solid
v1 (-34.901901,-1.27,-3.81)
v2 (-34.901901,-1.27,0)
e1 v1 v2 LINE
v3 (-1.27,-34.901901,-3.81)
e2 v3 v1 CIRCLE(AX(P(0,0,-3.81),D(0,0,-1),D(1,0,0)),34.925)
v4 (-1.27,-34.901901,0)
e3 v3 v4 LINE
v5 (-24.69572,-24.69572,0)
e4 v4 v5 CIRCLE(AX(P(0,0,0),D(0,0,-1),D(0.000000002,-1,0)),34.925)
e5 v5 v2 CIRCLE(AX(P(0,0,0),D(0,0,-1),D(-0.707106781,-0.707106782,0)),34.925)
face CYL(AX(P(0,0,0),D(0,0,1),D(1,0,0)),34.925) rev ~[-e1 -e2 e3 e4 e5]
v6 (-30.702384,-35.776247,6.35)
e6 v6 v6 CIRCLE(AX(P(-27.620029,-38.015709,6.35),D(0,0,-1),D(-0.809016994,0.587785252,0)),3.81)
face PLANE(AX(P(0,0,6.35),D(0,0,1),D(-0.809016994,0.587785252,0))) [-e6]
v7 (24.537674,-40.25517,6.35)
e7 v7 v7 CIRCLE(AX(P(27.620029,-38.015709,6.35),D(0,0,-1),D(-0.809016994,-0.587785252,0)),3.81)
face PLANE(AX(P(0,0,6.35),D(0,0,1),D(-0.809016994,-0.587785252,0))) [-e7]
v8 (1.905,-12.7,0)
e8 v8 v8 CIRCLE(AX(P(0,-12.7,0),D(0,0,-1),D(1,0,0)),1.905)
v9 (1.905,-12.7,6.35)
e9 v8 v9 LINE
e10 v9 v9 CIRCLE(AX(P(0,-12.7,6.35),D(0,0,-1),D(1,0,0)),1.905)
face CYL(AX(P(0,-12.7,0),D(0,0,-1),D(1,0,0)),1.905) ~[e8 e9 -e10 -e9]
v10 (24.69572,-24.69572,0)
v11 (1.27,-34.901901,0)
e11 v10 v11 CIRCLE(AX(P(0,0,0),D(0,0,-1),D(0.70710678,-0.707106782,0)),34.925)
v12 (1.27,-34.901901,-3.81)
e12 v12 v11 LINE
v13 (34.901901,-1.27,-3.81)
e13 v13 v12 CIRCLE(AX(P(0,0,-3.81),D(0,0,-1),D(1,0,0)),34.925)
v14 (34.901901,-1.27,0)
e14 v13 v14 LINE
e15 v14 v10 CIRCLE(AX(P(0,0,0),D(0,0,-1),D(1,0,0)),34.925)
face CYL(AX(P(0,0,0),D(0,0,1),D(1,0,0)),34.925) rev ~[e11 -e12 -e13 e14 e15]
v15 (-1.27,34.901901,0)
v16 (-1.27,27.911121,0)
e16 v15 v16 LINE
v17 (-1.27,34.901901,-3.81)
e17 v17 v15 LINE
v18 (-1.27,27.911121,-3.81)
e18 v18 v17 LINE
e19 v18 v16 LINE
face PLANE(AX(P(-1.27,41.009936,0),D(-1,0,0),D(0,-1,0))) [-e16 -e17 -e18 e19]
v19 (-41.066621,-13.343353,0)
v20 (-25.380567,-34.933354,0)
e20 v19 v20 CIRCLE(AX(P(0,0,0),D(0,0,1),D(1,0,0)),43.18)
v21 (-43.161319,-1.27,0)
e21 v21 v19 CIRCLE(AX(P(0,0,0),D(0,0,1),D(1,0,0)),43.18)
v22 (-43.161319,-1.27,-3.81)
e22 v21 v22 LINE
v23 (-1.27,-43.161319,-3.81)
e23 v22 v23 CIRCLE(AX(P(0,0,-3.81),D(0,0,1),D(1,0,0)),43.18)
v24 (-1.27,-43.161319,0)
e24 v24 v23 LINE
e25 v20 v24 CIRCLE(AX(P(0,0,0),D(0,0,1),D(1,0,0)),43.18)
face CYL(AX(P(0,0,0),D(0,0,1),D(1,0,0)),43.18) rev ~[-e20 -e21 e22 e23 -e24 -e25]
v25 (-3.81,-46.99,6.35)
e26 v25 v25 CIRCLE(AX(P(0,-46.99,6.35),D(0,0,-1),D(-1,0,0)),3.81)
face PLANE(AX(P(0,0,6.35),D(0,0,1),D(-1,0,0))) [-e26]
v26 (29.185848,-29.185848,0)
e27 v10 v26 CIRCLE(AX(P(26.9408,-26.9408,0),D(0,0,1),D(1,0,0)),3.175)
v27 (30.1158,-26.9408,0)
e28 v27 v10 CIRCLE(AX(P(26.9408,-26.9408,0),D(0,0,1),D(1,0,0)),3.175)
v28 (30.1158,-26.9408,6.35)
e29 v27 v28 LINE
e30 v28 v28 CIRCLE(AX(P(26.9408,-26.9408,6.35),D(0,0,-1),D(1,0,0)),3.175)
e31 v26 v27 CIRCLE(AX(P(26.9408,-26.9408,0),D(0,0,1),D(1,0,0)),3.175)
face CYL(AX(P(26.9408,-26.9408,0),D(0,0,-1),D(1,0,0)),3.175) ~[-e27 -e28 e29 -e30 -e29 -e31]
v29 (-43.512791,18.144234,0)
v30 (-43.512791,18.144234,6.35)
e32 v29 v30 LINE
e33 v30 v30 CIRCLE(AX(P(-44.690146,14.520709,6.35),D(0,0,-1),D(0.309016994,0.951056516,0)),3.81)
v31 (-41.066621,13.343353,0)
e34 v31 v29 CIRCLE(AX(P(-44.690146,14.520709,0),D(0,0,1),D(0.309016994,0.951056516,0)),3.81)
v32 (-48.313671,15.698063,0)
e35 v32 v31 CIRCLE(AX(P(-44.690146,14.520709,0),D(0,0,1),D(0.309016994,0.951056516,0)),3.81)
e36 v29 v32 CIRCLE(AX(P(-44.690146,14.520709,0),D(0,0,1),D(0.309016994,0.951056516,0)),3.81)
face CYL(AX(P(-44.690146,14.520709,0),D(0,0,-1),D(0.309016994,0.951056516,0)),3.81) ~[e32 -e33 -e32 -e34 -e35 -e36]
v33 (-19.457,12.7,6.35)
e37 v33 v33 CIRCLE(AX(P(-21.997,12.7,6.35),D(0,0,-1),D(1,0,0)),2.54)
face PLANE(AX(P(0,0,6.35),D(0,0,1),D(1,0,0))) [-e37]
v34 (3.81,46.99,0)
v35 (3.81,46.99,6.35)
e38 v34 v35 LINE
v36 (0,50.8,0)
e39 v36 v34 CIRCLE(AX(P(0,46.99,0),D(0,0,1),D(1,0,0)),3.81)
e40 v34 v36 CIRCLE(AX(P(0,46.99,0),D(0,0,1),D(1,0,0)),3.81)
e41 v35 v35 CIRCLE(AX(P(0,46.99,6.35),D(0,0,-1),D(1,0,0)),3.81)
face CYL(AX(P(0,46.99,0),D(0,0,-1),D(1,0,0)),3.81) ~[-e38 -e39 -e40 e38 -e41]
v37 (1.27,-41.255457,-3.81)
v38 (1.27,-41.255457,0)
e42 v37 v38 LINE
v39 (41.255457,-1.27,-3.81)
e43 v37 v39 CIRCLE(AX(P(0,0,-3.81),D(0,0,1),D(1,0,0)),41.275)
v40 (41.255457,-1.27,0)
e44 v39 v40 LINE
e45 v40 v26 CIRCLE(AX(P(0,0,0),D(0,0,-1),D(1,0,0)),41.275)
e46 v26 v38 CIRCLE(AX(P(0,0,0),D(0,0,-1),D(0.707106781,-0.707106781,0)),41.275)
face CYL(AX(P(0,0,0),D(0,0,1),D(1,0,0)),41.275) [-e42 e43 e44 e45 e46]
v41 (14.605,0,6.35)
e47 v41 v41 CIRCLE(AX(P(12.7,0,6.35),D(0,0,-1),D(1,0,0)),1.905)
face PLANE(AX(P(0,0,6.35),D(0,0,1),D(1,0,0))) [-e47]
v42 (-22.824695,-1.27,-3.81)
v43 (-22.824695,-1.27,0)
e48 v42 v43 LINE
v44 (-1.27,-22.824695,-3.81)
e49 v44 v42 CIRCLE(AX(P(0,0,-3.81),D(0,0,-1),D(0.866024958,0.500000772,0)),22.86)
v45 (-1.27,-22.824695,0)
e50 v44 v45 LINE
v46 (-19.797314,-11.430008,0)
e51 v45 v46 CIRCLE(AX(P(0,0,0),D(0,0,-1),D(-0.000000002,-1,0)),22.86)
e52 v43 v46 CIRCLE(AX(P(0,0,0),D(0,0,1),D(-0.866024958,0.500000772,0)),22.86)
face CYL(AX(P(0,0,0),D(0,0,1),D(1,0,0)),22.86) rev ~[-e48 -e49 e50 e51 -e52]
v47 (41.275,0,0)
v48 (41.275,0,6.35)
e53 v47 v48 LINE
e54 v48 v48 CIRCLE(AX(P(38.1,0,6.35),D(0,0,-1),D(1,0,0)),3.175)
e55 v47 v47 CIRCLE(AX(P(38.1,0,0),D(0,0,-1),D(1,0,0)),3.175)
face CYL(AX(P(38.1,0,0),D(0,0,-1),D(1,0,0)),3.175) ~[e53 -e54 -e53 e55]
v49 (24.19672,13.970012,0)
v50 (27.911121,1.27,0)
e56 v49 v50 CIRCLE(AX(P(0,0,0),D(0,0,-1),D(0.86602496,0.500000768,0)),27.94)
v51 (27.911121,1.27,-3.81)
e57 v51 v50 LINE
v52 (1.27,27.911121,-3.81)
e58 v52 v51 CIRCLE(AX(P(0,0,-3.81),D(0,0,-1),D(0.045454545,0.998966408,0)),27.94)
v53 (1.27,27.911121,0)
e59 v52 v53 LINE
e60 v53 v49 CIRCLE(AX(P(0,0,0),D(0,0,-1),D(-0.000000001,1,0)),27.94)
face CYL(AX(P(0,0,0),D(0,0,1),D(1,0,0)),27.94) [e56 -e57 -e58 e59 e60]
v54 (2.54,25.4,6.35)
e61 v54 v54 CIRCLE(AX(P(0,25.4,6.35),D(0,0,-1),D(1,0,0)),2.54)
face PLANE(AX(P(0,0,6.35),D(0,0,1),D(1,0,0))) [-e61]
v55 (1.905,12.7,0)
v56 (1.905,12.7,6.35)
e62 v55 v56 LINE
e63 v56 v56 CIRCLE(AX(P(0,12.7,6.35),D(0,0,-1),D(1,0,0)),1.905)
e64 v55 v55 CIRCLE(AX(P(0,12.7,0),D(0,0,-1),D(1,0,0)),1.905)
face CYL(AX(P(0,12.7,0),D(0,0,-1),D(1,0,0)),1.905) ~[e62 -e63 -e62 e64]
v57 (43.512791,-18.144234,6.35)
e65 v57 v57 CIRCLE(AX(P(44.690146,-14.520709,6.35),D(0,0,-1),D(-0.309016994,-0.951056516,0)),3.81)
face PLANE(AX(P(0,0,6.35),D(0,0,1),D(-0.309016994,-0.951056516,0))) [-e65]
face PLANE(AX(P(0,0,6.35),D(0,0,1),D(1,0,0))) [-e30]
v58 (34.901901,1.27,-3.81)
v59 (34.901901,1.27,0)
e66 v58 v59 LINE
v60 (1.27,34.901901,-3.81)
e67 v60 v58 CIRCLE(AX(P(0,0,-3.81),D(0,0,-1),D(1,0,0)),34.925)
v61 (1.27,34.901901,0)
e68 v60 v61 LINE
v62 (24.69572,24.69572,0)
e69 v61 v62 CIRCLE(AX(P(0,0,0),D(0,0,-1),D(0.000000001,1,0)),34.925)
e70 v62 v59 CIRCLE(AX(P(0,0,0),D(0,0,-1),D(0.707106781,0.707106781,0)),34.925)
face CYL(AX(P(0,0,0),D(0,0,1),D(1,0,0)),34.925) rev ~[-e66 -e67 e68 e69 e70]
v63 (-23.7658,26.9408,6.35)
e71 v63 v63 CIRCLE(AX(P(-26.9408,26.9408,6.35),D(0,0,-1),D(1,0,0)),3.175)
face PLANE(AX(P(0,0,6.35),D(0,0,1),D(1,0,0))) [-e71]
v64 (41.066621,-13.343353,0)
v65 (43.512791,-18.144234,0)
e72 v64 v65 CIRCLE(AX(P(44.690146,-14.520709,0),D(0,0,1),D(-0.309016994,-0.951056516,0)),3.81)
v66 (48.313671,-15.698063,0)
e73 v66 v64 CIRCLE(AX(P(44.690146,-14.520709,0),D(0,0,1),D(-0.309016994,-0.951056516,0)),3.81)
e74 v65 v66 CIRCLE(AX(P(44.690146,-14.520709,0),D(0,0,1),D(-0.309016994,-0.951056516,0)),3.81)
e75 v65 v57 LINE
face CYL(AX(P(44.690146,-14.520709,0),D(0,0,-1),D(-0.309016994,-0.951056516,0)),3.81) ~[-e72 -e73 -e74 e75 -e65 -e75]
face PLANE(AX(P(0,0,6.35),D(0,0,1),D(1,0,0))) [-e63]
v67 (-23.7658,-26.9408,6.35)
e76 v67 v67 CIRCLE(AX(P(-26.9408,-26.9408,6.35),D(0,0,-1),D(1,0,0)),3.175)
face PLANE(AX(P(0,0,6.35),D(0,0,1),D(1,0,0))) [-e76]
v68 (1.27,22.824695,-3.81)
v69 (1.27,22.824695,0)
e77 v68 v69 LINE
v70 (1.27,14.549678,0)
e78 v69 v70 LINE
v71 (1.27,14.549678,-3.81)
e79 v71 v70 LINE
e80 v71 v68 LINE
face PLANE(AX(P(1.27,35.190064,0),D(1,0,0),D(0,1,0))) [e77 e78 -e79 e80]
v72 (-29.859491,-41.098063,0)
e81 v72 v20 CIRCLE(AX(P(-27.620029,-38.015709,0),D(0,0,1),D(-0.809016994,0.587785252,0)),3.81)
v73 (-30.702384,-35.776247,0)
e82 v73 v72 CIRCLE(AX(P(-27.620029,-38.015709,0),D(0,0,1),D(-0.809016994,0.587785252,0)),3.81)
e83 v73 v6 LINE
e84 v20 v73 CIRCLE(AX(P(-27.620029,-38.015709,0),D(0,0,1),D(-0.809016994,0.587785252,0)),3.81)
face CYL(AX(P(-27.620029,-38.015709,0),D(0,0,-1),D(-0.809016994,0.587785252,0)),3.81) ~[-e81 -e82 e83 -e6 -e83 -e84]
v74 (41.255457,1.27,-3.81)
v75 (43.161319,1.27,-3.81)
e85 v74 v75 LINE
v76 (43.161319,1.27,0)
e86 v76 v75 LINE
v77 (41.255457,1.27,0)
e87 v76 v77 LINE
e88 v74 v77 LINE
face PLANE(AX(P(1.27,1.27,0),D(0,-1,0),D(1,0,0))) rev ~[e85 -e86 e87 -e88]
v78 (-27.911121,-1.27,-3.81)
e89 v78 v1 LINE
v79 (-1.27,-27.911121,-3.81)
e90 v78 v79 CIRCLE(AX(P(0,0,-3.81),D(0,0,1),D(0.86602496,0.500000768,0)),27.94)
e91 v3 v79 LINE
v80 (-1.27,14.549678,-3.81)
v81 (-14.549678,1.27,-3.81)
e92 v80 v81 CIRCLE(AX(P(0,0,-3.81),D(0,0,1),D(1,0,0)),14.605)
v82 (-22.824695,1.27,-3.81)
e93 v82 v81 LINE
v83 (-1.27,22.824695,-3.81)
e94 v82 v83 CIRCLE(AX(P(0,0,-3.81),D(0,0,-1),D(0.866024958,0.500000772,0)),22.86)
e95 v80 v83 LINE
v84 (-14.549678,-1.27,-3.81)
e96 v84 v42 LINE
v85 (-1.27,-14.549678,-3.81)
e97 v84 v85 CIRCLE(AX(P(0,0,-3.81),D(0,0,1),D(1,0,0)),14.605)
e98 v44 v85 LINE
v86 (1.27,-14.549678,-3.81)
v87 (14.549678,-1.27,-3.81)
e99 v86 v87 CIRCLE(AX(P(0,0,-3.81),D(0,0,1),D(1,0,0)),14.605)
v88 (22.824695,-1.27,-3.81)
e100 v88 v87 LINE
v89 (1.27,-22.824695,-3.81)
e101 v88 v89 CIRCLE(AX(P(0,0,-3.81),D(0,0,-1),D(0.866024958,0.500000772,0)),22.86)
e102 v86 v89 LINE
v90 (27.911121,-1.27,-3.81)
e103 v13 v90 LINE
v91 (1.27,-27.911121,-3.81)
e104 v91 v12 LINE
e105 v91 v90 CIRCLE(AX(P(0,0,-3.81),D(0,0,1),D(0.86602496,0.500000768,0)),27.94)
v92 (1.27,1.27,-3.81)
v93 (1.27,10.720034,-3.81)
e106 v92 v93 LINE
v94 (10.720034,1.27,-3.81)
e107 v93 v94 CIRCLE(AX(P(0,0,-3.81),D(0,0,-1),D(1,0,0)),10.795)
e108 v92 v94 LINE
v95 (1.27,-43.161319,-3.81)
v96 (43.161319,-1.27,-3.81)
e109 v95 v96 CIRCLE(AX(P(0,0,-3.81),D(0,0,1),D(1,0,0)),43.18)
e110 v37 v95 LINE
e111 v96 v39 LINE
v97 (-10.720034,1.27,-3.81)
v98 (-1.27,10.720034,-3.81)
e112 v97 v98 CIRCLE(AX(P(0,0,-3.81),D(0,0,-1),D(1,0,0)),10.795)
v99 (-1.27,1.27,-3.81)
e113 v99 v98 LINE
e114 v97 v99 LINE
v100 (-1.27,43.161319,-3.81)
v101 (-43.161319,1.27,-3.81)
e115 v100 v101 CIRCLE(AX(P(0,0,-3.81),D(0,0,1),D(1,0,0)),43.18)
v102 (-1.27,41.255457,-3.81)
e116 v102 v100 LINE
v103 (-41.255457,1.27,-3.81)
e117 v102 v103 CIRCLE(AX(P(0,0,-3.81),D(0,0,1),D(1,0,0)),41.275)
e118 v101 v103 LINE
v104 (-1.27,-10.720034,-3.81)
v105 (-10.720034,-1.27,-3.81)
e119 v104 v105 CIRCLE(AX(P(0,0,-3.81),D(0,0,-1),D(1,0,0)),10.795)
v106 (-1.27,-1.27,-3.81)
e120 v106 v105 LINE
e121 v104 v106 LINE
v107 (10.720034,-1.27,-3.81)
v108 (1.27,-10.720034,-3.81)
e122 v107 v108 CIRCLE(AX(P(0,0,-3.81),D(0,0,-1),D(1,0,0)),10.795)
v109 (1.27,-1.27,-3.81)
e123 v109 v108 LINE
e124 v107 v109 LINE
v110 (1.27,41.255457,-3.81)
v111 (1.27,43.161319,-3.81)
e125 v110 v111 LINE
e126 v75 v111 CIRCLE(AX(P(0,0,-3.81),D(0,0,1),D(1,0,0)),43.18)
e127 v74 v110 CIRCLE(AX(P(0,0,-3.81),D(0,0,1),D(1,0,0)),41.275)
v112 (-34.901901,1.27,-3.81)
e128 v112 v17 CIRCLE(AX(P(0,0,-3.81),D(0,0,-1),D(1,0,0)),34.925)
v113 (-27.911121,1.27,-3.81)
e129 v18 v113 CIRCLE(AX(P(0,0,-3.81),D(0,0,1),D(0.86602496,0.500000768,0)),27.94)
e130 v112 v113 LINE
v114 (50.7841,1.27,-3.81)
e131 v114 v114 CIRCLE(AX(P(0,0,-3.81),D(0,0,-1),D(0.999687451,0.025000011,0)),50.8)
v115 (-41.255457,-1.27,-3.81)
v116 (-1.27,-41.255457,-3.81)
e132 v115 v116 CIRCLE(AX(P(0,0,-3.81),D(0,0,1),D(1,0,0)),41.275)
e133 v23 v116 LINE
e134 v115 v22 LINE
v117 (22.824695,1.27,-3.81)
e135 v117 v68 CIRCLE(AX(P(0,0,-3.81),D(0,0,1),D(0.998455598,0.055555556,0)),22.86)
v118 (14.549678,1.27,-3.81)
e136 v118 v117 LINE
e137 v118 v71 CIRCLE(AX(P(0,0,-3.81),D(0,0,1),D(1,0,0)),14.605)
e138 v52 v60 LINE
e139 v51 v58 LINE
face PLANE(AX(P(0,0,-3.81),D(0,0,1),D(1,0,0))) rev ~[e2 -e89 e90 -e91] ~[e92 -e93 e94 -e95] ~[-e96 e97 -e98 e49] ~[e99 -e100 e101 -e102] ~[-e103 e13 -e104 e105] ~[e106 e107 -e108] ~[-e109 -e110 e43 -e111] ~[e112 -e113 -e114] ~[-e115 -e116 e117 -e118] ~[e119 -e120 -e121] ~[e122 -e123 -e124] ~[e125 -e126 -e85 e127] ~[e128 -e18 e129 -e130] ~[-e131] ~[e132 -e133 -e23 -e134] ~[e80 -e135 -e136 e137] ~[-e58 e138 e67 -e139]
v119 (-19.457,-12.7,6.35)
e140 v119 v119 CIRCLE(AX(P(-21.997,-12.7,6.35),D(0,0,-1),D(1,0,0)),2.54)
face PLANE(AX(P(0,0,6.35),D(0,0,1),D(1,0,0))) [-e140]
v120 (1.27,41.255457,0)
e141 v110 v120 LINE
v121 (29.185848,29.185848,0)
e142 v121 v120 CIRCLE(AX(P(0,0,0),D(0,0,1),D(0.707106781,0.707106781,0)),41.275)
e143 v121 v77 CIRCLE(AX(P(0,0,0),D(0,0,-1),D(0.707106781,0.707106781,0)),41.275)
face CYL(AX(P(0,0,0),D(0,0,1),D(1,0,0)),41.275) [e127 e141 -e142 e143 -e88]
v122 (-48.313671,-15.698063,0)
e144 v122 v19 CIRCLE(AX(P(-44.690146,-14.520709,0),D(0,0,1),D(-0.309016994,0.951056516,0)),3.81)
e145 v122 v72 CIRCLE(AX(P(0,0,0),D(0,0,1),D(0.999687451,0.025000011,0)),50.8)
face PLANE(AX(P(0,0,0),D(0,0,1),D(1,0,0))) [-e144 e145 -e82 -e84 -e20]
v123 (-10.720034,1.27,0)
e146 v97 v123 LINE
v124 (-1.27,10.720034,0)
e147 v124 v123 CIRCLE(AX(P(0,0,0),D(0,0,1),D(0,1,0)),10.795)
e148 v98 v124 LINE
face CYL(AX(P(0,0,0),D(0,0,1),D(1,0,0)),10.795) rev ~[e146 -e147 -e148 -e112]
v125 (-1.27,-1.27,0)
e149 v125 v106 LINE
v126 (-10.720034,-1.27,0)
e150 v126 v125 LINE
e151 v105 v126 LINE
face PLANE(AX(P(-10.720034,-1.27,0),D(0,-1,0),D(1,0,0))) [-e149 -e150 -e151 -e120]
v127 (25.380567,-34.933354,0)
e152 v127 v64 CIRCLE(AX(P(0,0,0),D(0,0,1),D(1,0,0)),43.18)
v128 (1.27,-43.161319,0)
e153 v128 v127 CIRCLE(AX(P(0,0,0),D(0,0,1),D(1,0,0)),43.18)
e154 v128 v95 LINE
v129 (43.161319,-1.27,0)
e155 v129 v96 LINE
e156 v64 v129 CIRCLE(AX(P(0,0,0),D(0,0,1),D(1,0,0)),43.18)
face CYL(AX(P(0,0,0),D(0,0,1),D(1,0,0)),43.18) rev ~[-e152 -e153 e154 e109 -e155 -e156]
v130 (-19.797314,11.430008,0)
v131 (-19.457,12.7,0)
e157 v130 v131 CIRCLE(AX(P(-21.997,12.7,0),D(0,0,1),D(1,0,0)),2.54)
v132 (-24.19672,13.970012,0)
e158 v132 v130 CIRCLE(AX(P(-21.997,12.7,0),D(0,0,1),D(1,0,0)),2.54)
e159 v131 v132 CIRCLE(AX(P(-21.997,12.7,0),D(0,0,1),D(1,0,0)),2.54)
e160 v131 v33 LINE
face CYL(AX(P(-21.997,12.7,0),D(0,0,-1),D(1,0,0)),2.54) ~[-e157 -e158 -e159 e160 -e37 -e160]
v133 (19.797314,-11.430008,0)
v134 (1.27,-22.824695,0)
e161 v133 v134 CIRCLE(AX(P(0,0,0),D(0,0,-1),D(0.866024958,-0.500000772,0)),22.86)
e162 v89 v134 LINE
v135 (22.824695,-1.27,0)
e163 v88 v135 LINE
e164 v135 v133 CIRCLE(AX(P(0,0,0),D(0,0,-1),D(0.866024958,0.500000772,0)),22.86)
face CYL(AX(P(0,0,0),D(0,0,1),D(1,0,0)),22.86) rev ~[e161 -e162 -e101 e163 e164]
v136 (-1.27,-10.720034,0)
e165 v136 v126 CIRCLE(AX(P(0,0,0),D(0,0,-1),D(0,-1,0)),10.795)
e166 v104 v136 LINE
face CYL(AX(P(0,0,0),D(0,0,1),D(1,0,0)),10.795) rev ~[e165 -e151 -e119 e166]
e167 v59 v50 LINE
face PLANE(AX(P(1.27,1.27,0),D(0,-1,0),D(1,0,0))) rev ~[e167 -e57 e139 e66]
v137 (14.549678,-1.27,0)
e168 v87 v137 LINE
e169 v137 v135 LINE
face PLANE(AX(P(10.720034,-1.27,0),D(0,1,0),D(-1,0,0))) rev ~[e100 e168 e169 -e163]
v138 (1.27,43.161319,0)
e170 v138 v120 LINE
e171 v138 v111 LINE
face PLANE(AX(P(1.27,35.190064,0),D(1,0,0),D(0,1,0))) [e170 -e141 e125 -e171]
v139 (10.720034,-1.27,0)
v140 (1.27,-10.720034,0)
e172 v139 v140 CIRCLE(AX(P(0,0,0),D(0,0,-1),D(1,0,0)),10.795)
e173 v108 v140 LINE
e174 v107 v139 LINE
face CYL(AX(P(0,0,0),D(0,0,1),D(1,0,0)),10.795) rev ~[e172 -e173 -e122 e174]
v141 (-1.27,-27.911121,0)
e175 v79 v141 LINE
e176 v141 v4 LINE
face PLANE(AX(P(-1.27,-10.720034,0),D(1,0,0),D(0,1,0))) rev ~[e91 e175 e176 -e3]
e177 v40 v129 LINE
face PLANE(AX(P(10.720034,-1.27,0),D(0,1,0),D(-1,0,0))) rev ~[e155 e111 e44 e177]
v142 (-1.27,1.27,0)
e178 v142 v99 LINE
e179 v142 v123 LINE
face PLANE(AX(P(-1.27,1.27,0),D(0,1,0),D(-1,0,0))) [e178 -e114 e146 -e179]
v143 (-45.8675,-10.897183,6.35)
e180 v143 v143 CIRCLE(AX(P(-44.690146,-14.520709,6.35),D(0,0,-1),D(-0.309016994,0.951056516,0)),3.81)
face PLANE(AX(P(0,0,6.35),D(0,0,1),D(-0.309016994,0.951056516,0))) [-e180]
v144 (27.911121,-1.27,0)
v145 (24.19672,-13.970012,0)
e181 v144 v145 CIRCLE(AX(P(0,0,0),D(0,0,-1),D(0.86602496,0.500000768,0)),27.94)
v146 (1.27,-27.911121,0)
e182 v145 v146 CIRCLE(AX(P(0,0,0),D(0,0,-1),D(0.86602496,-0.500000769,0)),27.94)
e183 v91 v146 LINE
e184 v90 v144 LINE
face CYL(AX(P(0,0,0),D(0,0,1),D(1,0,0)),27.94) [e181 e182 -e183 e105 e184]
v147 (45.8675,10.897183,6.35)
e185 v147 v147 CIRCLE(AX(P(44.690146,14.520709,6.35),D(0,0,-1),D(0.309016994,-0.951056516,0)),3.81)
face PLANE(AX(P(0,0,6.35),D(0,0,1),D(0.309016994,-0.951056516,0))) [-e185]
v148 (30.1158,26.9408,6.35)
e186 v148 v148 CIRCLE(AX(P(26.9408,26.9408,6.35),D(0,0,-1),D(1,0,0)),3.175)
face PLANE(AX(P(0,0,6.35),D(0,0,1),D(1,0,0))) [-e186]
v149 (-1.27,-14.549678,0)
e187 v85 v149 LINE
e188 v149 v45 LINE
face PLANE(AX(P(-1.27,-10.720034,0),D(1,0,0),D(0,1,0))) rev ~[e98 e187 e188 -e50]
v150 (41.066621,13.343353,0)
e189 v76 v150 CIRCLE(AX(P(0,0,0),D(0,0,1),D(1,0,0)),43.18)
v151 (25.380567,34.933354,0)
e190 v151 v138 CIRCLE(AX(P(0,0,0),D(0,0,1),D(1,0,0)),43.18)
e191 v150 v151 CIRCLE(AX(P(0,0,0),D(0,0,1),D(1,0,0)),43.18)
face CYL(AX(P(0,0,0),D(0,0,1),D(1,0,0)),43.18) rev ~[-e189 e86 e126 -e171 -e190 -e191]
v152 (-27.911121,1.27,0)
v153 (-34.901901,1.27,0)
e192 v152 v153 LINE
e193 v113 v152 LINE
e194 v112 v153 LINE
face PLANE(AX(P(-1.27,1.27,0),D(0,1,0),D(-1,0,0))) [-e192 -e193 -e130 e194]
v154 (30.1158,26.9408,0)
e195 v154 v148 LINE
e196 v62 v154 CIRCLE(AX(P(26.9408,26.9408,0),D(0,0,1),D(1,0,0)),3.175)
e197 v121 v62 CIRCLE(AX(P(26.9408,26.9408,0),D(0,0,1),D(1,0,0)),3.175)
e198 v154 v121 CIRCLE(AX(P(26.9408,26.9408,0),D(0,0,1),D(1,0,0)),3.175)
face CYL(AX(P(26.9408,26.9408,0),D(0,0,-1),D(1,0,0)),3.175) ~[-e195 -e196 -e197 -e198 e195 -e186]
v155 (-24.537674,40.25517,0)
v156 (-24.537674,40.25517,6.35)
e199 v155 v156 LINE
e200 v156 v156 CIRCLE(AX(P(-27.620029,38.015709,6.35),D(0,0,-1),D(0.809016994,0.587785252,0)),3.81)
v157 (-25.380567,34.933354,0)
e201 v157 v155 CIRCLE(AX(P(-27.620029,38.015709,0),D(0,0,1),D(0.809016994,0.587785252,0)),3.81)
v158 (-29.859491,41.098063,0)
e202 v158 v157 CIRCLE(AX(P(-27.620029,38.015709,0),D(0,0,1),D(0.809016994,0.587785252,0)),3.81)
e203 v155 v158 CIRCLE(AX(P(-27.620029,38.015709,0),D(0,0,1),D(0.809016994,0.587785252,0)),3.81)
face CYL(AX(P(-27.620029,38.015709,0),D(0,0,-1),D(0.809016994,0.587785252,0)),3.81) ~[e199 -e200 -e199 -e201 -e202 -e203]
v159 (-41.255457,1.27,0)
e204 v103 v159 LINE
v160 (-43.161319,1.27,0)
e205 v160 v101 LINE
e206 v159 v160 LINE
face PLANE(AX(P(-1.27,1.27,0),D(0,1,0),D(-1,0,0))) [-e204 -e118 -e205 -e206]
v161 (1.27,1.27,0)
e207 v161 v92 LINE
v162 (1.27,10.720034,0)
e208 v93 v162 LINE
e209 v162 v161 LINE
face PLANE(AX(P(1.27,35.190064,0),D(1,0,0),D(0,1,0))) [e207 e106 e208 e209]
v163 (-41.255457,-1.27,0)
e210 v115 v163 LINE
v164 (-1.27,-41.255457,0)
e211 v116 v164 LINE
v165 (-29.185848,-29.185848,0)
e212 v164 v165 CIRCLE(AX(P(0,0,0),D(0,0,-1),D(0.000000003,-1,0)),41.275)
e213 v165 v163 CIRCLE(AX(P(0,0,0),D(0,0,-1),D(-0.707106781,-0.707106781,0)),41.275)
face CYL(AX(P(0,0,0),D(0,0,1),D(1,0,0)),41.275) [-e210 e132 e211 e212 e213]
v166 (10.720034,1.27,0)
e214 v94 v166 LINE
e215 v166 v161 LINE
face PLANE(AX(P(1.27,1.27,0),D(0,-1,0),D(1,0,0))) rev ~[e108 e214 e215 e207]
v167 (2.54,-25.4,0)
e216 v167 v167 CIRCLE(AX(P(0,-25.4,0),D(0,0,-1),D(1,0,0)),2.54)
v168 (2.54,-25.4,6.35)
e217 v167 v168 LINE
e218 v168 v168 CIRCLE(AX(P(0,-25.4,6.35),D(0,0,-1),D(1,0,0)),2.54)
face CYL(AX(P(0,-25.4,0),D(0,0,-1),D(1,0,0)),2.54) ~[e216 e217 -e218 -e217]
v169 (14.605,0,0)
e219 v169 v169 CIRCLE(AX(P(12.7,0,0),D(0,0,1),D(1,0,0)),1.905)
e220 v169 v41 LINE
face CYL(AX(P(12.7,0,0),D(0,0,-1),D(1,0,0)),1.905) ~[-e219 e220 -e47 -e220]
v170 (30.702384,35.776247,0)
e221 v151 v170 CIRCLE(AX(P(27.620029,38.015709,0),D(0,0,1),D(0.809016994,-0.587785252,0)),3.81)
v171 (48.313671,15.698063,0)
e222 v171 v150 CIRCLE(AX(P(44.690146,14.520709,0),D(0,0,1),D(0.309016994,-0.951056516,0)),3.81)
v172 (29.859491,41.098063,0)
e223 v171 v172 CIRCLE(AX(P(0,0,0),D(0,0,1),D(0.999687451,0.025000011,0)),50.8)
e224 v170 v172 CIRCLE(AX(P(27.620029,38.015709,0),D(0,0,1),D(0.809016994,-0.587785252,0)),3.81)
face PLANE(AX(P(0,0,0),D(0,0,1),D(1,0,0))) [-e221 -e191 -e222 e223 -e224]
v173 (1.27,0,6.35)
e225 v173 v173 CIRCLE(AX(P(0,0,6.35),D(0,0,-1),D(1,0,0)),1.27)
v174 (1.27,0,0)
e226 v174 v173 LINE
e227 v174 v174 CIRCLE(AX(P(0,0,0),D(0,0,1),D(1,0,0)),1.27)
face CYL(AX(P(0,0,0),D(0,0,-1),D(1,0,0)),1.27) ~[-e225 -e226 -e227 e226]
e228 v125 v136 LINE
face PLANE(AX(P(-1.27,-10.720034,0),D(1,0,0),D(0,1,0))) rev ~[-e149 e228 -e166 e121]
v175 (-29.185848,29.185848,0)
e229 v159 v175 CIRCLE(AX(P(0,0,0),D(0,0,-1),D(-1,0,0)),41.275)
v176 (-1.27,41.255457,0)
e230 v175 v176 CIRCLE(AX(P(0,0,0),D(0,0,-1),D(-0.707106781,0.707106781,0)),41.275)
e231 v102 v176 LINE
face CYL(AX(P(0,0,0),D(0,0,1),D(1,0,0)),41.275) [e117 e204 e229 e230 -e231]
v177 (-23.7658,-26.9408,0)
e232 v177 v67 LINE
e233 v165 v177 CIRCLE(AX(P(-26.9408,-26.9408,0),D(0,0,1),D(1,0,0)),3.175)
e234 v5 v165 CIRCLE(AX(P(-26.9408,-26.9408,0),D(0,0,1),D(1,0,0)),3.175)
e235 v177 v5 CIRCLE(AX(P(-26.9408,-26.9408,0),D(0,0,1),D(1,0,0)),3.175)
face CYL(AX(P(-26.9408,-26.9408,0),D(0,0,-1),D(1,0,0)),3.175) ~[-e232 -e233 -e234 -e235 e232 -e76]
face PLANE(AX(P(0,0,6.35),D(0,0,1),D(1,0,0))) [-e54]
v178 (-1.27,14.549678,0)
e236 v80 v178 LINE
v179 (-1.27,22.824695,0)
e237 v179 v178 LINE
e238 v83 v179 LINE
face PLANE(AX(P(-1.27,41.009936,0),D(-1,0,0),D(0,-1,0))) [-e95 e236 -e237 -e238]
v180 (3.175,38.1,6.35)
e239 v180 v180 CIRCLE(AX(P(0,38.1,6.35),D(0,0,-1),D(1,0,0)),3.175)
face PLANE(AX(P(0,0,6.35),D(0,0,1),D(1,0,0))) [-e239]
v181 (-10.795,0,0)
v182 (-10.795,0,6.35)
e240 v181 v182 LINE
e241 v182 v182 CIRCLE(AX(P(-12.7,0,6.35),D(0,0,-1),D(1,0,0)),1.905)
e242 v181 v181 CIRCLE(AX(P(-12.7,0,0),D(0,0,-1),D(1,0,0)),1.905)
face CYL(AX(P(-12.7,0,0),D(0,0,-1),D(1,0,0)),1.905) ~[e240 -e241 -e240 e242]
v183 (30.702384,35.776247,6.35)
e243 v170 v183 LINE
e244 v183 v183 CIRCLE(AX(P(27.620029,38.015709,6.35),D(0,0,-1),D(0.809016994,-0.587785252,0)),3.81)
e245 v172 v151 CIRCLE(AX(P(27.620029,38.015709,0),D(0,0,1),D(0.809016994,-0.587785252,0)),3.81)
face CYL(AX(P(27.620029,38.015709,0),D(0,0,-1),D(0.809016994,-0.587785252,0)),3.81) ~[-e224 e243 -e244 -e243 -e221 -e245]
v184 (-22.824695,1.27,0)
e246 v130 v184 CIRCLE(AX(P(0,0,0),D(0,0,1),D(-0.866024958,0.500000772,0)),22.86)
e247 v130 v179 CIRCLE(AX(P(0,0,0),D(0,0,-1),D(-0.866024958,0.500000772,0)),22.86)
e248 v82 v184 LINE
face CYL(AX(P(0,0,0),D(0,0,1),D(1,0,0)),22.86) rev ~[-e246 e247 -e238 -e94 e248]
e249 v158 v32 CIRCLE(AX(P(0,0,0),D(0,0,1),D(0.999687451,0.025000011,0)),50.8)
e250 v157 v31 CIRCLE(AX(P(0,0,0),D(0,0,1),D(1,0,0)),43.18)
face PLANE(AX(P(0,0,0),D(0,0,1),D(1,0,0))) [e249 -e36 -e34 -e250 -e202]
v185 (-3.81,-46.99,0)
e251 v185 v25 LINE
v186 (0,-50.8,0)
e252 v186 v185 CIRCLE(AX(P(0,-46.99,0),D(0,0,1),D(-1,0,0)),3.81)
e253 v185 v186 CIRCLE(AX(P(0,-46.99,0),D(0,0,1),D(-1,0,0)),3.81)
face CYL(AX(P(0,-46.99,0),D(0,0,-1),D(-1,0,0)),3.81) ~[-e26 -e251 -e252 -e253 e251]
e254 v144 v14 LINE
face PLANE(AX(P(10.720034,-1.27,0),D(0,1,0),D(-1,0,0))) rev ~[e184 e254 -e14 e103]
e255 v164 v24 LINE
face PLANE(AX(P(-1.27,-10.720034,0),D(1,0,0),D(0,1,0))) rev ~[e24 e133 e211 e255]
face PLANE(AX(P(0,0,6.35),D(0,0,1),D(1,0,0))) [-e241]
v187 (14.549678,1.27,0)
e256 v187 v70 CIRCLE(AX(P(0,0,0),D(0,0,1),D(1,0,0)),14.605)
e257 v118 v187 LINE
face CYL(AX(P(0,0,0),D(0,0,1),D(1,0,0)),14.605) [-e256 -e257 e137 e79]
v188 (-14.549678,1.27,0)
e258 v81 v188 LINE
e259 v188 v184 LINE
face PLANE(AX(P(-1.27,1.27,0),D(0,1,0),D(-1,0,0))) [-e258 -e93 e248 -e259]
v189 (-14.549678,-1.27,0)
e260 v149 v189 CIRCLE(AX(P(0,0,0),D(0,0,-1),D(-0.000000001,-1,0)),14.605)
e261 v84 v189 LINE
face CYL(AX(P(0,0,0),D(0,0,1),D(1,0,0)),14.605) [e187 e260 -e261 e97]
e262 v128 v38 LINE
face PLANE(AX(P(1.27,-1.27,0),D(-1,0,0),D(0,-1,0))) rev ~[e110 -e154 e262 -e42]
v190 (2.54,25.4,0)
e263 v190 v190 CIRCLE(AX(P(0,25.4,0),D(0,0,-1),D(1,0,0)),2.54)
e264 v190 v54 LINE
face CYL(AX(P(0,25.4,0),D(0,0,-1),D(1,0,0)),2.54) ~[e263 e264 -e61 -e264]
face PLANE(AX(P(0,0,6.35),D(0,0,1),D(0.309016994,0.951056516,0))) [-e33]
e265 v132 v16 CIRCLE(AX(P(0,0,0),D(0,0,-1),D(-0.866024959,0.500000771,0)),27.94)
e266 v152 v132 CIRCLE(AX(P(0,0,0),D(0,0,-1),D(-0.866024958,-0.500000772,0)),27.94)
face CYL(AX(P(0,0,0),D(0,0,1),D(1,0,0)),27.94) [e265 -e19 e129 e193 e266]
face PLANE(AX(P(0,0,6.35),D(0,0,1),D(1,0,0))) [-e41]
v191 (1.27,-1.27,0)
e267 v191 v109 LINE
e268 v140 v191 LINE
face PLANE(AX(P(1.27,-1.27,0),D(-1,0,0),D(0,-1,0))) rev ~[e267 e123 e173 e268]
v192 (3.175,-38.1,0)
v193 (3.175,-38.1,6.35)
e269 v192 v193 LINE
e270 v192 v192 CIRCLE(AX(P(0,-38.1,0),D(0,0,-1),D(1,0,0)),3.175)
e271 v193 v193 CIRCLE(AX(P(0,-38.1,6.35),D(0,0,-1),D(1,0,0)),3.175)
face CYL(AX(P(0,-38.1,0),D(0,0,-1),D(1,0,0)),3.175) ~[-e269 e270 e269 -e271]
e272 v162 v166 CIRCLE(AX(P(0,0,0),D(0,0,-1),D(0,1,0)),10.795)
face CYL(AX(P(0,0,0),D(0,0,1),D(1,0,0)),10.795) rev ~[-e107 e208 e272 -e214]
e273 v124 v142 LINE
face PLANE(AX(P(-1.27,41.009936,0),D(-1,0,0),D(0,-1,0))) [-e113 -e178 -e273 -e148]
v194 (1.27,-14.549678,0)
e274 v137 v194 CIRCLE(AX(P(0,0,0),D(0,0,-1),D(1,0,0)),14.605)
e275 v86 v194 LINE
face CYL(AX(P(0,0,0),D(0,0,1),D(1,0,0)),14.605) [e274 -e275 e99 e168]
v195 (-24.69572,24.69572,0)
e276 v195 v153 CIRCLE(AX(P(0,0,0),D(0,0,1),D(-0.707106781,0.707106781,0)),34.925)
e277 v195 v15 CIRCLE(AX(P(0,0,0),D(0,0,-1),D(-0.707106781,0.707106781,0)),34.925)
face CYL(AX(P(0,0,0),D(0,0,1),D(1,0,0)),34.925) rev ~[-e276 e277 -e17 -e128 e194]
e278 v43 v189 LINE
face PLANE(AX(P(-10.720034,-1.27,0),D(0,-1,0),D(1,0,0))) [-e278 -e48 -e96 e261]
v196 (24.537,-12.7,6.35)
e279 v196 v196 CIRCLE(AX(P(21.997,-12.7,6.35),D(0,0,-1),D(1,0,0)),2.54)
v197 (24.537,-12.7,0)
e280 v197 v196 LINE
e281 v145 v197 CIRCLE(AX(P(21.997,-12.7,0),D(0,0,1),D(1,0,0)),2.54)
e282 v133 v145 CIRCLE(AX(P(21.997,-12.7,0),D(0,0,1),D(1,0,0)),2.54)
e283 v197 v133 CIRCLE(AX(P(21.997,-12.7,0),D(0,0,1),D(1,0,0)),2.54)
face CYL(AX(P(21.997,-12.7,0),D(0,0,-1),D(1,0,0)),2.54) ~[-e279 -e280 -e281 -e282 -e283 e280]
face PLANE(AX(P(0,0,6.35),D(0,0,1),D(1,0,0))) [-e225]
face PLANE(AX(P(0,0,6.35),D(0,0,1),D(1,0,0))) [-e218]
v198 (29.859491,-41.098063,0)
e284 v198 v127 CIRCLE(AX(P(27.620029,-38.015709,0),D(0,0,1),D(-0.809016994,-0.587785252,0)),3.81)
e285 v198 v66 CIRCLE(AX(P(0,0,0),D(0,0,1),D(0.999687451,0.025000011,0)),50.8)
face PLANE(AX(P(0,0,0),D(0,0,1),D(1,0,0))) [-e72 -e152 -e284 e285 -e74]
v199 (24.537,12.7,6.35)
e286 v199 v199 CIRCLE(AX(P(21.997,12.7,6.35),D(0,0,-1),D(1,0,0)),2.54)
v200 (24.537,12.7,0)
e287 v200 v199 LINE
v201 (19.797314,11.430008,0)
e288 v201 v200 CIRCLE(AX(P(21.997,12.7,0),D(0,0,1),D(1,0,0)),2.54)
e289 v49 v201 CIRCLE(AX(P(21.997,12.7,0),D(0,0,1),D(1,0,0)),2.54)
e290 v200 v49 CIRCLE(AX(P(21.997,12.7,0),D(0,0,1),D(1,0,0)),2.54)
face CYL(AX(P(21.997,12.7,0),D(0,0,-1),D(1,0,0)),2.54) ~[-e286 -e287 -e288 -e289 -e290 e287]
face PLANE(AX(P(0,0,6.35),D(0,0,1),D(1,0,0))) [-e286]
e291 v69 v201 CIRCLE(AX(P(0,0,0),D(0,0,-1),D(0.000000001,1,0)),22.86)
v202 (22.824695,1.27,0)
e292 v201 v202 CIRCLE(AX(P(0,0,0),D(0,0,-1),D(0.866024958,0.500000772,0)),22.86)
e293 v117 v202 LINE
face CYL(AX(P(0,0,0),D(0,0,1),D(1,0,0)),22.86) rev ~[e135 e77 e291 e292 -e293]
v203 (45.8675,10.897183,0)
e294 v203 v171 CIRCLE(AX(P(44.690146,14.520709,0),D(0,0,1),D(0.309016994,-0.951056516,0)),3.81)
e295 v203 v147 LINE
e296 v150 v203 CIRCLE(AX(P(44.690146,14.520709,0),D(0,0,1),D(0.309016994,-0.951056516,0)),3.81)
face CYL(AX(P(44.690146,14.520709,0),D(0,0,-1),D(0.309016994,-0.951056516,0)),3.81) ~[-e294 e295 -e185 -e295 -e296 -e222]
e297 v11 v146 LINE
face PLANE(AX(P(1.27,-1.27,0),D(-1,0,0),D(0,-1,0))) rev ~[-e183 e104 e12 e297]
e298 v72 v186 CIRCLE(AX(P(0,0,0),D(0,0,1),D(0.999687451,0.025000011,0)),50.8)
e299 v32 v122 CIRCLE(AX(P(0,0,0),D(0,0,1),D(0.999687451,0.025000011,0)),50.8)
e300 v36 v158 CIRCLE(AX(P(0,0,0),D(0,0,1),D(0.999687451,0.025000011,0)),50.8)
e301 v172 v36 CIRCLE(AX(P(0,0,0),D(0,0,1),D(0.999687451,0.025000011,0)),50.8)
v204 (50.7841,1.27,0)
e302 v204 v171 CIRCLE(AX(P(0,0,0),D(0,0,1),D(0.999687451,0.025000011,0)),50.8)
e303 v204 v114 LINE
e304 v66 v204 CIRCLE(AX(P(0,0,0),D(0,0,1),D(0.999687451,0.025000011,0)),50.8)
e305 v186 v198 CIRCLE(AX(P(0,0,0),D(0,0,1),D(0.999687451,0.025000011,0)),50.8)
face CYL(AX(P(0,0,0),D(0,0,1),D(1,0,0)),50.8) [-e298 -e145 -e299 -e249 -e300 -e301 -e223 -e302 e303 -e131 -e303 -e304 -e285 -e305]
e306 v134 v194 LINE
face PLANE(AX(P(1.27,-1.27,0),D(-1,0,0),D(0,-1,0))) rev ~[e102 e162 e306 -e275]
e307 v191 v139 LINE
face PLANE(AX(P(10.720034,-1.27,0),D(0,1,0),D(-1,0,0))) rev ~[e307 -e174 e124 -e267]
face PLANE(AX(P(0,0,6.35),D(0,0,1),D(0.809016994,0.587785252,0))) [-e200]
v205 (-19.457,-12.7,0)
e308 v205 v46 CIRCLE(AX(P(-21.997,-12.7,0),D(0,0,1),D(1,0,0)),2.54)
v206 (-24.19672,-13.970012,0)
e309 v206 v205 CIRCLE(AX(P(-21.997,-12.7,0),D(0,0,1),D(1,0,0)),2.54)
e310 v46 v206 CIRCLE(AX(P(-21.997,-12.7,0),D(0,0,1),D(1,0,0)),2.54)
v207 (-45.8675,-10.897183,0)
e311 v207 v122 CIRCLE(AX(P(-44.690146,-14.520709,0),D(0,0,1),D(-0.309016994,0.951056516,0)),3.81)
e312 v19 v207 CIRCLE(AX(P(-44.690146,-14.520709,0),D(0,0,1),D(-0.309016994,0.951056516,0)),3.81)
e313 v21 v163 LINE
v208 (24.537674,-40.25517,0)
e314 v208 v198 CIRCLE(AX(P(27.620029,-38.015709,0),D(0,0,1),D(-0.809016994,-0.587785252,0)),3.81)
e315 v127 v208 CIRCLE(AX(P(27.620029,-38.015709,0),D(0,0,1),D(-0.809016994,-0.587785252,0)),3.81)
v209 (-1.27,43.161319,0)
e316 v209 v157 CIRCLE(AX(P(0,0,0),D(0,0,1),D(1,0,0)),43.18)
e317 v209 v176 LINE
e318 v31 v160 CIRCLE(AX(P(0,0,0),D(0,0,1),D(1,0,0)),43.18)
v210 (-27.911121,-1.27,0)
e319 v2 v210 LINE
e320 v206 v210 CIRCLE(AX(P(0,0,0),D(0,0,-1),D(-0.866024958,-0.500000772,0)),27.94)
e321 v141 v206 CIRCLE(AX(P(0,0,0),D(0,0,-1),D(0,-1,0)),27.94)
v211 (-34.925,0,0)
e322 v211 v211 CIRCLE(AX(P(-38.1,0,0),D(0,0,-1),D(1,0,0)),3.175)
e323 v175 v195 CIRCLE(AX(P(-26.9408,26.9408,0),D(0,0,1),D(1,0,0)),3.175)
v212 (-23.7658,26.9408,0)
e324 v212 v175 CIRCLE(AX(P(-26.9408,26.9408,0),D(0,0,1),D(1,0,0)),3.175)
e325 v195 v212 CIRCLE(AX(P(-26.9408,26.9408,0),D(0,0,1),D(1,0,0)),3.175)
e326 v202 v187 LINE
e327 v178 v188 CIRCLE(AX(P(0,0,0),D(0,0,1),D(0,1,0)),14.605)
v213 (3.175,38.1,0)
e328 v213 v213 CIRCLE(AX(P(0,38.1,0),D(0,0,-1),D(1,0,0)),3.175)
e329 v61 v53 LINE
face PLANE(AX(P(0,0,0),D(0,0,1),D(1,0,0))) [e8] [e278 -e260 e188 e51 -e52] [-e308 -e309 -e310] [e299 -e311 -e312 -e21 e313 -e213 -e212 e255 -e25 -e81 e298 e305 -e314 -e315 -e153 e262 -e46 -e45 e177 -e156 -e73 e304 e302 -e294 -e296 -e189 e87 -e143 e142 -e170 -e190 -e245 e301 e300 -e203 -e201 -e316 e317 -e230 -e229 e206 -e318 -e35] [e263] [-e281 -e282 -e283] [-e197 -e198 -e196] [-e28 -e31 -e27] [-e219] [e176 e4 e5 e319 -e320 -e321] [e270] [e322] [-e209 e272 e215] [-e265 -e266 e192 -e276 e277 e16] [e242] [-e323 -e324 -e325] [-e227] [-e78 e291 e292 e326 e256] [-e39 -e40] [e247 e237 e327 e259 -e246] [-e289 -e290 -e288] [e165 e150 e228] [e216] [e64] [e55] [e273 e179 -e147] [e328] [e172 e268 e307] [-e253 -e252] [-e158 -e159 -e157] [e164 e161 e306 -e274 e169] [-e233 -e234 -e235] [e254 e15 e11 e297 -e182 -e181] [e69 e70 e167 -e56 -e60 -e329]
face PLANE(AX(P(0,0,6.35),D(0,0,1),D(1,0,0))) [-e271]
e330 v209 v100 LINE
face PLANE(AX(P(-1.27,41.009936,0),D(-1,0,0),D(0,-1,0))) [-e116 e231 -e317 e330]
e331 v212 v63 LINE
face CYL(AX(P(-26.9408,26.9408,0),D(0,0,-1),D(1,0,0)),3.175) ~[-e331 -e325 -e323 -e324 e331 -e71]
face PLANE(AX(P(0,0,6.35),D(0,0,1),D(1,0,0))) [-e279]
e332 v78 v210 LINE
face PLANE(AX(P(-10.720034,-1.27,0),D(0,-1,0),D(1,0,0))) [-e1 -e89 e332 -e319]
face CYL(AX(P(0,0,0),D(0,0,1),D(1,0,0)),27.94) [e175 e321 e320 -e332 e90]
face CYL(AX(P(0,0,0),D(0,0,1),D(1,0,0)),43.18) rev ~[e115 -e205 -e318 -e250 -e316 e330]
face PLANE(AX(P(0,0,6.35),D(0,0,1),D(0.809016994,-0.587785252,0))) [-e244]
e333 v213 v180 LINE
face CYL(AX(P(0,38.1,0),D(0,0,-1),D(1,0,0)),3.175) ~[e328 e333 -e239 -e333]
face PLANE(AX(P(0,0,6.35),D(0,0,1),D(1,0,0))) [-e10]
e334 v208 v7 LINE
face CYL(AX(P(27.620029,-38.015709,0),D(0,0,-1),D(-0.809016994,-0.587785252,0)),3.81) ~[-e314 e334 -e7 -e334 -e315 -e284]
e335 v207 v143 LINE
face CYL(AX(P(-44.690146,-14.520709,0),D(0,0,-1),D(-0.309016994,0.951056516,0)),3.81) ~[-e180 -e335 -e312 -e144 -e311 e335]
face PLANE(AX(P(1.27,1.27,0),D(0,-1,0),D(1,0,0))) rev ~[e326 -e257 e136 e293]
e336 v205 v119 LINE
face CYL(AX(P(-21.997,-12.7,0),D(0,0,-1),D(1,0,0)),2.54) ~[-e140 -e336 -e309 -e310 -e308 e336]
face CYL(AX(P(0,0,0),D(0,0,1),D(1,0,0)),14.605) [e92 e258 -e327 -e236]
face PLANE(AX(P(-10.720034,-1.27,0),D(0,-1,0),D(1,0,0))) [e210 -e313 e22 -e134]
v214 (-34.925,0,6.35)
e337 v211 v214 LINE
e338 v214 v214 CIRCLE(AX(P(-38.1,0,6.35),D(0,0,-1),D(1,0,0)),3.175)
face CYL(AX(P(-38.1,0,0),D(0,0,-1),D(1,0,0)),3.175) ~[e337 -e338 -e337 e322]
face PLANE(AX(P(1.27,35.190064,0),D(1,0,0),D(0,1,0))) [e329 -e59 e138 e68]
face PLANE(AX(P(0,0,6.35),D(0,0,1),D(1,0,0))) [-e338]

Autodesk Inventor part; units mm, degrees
ref_plane "YZ Plane" through (0, 0, 0) normal (1, 0, 0) x (0, 1, 0)
ref_plane "XZ Plane" through (0, 0, 0) normal (0, 1, 0) x (-1, 0, 0)
ref_plane "XY Plane" through (0, 0, 0) normal (0, 0, 1) x (1, 0, 0)
sketch "Sketch1" plane through (0, 0, 0) normal (0, 0, 1) x (1, 0, 0)
  circle A0 centre (0, 38.1) radius 3.175
  circle A1 centre (0, 25.4) radius 2.54
  circle A2 centre (0, 12.7) radius 1.905
  circle A3 centre (0, 0) radius 1.27
  circle A4 centre (-26.9408, 26.9408) radius 3.175
  circle A5 centre (-38.1, 0) radius 3.175
  circle A6 centre (-26.9408, -26.9408) radius 3.175
  circle A7 centre (0, -38.1) radius 3.175
  circle A8 centre (26.9408, -26.9408) radius 3.175
  circle A9 centre (38.1, 0) radius 3.175
  circle A10 centre (26.9408, 26.9408) radius 3.175
  circle A11 centre (-21.997, 12.7) radius 2.54
  circle A12 centre (-21.997, -12.7) radius 2.54
  circle A13 centre (0, -25.4) radius 2.54
  circle A14 centre (21.997, -12.7) radius 2.54
  circle A15 centre (21.997, 12.7) radius 2.54
  circle A16 centre (-12.7, 0) radius 1.905
  circle A17 centre (0, -12.7) radius 1.905
  circle A18 centre (12.7, 0) radius 1.905
  circle A19 centre (0, 0) radius 43.18
  circle A20 centre (0, 0) radius 34.925
  circle A21 centre (0, 0) radius 41.275
  circle A22 centre (0, 0) radius 22.86
  circle A23 centre (0, 0) radius 27.94
  circle A24 centre (0, 0) radius 10.795
  circle A25 centre (0, 0) radius 14.605
  line L0 (-1.27, 0) -> (1.27, 0)
  line L1 (1.27, 0) -> (1.27, 50.7841)
  line L2 (1.27, 50.7841) -> (-1.27, 50.7841)
  line L3 (-1.27, 50.7841) -> (-1.27, 0)
  line L4 (-1.27, 0) -> (1.27, 0)
  line L5 (1.27, 0) -> (1.27, -50.7841)
  line L6 (1.27, -50.7841) -> (-1.27, -50.7841)
  line L7 (-1.27, -50.7841) -> (-1.27, 0)
  line L8 (0, 1.27) -> (50.7841, 1.27)
  line L9 (50.7841, 1.27) -> (50.7841, -1.27)
  line L10 (50.7841, -1.27) -> (0, -1.27)
  line L11 (0, -1.27) -> (0, 1.27)
  line L12 (0, 1.27) -> (-50.7841, 1.27)
  line L13 (-50.7841, 1.27) -> (-50.7841, -1.27)
  line L14 (-50.7841, -1.27) -> (0, -1.27)
  line L15 (0, -1.27) -> (0, 1.27)
  circle A26 centre (0, 0) radius 50.8
  dimension "d1" = 6.35
  dimension "d3" = 5.08
  dimension "d4" = 3.81
  dimension "d5" = 2.54
  dimension "d6" = 12.7
  dimension "d7" = 12.7
  dimension "d8" = 12.7
  dimension "d11" = 360
  dimension "d15" = 360
  dimension "d19" = 360
  dimension "d23" = 86.36
  dimension "d24" = 82.55
  dimension "d25" = 55.88
  dimension "d26" = 29.21
  dimension "d27" = 2.54
  dimension "d28" = 2.54
  dimension "d29" = 2.54
  dimension "d30" = 2.54
  dimension "d43" = 101.6
extrude "Extrusion1" add sketch "Sketch1" along normal blind 6.35 contours A0 L1 | L1 A0 L3 | L3 A0 | A10 | A4 | A15 | A1 L1 L3 | A1 L1 | A9 L10 L8 | L8 A9 | A11 | L3 A1 | A5 L12 L14 | A5 L12 | A9 L10 | L14 A5 | A8 | A6 | A12 | A14 | A18 L10 L8 | L8 A18 | A2 L1 L3 | A2 L1 | A7 L7 L5 | A7 L7 | L5 A7 | A16 L12 L14 | A16 L12 | L3 A2 | A18 L10 | A13 L7 L5 | A13 L7 | L14 A16 | L5 A13 | A17 L7 L5 | A17 L7 | L5 A17 | L0 L11 A3 | A3 L11 L0 | L11 L0 A3 | L0 L11 A3
extrude "Extrusion2" add sketch "Sketch1" against normal blind 3.81 contours A0 L1 | L1 A0 L3 | L3 A0 | A10 | A4 | A15 | A1 L1 L3 | A1 L1 | A9 L10 L8 | L8 A9 | A11 | L3 A1 | A5 L12 L14 | A5 L12 | A9 L10 | L14 A5 | A8 | A6 | A12 | A14 | A18 L10 L8 | L8 A18 | A7 L7 L5 | A7 L7 | L5 A7 | A16 L12 L14 | A16 L12 | A18 L10 | A13 L7 L5 | A13 L7 | L14 A16 | L5 A13 | A17 L7 L5 | A17 L7 | L5 A17 | L0 L11 A3 | A3 L11 L0 | L11 L0 A3 | L0 L11 A3
extrude "Extrusion3" add sketch "Sketch1" against normal blind 3.81 contours A0 L1 A21 A10 A20 | A0 A21 L1 | L1 A20 A0 | A0 L3 A21 | A20 L3 A0 | A0 L3 A20 A4 A21 | A21 L8 A9 A20 A10 | A4 A20 L12 A5 A21 | A21 A9 L8 | L8 A9 A20 | L12 A5 A21 | A21 L10 A9 | A20 A5 L12 | A9 L10 A20 | A5 L14 A21 | L10 A21 A8 A20 A9 | A20 L14 A5 | A5 L14 A20 A6 A21 | A21 L5 A7 A20 A8 | A6 A20 L7 A7 A21 | L7 A7 A21 | A21 A7 L5 | L5 A7 A20 | A20 A7 L7
extrude "Extrusion4" add sketch "Sketch1" against normal blind 3.81 contours L8 A18 A24 L1 A2 A25 | A25 A18 L8 | L1 A2 A25 | L12 A16 A25 | A25 L3 A2 A24 L12 A16 | A25 A2 L3 | A25 L10 A18 | L14 A16 A24 L7 A17 A25 | A25 A16 L14 | A25 L5 A17 A24 L10 A18 | A18 A24 L8 | L1 A24 A2 | L7 A17 A25 | L12 A24 A16 | A2 A24 L3 | A25 A17 L5 | L10 A24 A18 | A16 A24 L14 | L7 A24 A17 | A17 A24 L5
extrude "Extrusion5" add sketch "Sketch1" against normal blind 3.81 contours L1 A1 A23 | A23 A15 A22 L1 A1 | L3 A1 A22 A11 A23 | A23 A1 L3 | A23 L8 A22 A15 | A11 A22 L12 A23 | A23 L10 A22 L8 | L1 A22 A1 | L12 A22 L14 A23 | A1 A22 L3 | L14 A22 A12 A23 | A23 A14 A22 L10 | A12 A22 L7 A13 A23 | A23 L5 A13 A22 A14 | L7 A13 A23 | A23 A13 L5 | A22 A13 L7 | L5 A13 A22
extrude "Extrusion6" add sketch "Sketch1" against normal blind 3.81 contours A2 L1 L3 | A2 L1 | L3 A2
extrude "Extrusion7" add sketch "Sketch1" against normal blind 3.81 contours L1 A0 L3 | A0 A21 L1 | L1 A20 A0 | A21 L3 A19 L1 | A0 L3 A21 | A20 L3 A0 | A20 L1 A23 L3 | A19 L3 L2 L1 | L1 A1 A23 | L8 A19 L10 A21 | A21 A9 L8 | L8 L9 L10 A19 | A23 A1 L3 | L8 A9 A20 | A20 L10 A23 L8 | A1 L1 L3 | L12 A5 A21 | A21 L14 A19 L12 | A19 L14 L13 L12 | A9 L10 L8 | A21 L10 A9 | L12 A23 L14 A20 | A20 A5 L12 | A9 L10 A20 | A23 L10 A22 L8 | L1 A22 A1 | A5 L12 L14 | A5 L14 A21 | A20 L14 A5 | L12 A22 L14 A23 | A1 A22 L3 | A22 L10 A25 L8 | L1 A25 L3 A22 | L7 A21 L5 A19 | A19 L5 L6 L7 | L12 A25 L14 A22 | A25 A18 L8 | L1 A2 A25 | L7 A7 A21 | A21 A7 L5 | L12 A16 A25 | A25 A2 L3 | L5 A7 A20 | A20 L7 A23 L5 | A18 L10 L8 | A25 L10 A18 | A2 L1 L3 | A7 L7 L5 | A20 A7 L7 | L7 A13 A23 | A25 A16 L14 | A16 L12 L14 | A23 A13 L5 | A18 A24 L8 | L1 A24 A2 | L7 A25 L5 A22 | A22 A13 L7 | A13 L7 L5 | L7 A17 A25 | L12 A24 A16 | A2 A24 L3 | L5 A13 A22 | A25 A17 L5 | L10 A24 A18 | A24 L10 L5 L1 L8 | A24 L1 L8 L12 L3 | A17 L7 L5 | A16 A24 L14 | A24 L12 L3 L7 L14 | L1 A3 L8 | L7 A24 A17 | L12 A3 L3 | A17 A24 L5 | A24 L7 L14 L10 L5 | L10 A3 L5 | L0 L11 A3 | A3 L11 L0 | L11 L0 A3 | L7 A3 L14 | L0 L11 A3
extrude "Extrusion8" add sketch "Sketch1" against normal blind 3.81 contours L1 A26 L8 A19 | A19 L12 A26 L3 | L2 A26 | A26 L9 | A19 L7 A26 L14 | L13 A26 | L10 A26 L5 A19 | A26 L6
sketch "Sketch2" plane through (0, 0, 0) normal (0, 0, 1) x (1, 0, 0)
  circle A0 centre (0, 0) radius 50.8 projected
  circle A1 centre (0, 46.99) radius 3.81
  dimension "d46" = 7.62
extrude "Extrusion9" add sketch "Sketch2" along normal blind 6.35 contours A1
pattern_circular "Circular Pattern1" count 10 over 360 about axis through (0, 0, 0) along (0, 0, 1) of "Extrusion9"
properties part number "Cupholder cool2"
